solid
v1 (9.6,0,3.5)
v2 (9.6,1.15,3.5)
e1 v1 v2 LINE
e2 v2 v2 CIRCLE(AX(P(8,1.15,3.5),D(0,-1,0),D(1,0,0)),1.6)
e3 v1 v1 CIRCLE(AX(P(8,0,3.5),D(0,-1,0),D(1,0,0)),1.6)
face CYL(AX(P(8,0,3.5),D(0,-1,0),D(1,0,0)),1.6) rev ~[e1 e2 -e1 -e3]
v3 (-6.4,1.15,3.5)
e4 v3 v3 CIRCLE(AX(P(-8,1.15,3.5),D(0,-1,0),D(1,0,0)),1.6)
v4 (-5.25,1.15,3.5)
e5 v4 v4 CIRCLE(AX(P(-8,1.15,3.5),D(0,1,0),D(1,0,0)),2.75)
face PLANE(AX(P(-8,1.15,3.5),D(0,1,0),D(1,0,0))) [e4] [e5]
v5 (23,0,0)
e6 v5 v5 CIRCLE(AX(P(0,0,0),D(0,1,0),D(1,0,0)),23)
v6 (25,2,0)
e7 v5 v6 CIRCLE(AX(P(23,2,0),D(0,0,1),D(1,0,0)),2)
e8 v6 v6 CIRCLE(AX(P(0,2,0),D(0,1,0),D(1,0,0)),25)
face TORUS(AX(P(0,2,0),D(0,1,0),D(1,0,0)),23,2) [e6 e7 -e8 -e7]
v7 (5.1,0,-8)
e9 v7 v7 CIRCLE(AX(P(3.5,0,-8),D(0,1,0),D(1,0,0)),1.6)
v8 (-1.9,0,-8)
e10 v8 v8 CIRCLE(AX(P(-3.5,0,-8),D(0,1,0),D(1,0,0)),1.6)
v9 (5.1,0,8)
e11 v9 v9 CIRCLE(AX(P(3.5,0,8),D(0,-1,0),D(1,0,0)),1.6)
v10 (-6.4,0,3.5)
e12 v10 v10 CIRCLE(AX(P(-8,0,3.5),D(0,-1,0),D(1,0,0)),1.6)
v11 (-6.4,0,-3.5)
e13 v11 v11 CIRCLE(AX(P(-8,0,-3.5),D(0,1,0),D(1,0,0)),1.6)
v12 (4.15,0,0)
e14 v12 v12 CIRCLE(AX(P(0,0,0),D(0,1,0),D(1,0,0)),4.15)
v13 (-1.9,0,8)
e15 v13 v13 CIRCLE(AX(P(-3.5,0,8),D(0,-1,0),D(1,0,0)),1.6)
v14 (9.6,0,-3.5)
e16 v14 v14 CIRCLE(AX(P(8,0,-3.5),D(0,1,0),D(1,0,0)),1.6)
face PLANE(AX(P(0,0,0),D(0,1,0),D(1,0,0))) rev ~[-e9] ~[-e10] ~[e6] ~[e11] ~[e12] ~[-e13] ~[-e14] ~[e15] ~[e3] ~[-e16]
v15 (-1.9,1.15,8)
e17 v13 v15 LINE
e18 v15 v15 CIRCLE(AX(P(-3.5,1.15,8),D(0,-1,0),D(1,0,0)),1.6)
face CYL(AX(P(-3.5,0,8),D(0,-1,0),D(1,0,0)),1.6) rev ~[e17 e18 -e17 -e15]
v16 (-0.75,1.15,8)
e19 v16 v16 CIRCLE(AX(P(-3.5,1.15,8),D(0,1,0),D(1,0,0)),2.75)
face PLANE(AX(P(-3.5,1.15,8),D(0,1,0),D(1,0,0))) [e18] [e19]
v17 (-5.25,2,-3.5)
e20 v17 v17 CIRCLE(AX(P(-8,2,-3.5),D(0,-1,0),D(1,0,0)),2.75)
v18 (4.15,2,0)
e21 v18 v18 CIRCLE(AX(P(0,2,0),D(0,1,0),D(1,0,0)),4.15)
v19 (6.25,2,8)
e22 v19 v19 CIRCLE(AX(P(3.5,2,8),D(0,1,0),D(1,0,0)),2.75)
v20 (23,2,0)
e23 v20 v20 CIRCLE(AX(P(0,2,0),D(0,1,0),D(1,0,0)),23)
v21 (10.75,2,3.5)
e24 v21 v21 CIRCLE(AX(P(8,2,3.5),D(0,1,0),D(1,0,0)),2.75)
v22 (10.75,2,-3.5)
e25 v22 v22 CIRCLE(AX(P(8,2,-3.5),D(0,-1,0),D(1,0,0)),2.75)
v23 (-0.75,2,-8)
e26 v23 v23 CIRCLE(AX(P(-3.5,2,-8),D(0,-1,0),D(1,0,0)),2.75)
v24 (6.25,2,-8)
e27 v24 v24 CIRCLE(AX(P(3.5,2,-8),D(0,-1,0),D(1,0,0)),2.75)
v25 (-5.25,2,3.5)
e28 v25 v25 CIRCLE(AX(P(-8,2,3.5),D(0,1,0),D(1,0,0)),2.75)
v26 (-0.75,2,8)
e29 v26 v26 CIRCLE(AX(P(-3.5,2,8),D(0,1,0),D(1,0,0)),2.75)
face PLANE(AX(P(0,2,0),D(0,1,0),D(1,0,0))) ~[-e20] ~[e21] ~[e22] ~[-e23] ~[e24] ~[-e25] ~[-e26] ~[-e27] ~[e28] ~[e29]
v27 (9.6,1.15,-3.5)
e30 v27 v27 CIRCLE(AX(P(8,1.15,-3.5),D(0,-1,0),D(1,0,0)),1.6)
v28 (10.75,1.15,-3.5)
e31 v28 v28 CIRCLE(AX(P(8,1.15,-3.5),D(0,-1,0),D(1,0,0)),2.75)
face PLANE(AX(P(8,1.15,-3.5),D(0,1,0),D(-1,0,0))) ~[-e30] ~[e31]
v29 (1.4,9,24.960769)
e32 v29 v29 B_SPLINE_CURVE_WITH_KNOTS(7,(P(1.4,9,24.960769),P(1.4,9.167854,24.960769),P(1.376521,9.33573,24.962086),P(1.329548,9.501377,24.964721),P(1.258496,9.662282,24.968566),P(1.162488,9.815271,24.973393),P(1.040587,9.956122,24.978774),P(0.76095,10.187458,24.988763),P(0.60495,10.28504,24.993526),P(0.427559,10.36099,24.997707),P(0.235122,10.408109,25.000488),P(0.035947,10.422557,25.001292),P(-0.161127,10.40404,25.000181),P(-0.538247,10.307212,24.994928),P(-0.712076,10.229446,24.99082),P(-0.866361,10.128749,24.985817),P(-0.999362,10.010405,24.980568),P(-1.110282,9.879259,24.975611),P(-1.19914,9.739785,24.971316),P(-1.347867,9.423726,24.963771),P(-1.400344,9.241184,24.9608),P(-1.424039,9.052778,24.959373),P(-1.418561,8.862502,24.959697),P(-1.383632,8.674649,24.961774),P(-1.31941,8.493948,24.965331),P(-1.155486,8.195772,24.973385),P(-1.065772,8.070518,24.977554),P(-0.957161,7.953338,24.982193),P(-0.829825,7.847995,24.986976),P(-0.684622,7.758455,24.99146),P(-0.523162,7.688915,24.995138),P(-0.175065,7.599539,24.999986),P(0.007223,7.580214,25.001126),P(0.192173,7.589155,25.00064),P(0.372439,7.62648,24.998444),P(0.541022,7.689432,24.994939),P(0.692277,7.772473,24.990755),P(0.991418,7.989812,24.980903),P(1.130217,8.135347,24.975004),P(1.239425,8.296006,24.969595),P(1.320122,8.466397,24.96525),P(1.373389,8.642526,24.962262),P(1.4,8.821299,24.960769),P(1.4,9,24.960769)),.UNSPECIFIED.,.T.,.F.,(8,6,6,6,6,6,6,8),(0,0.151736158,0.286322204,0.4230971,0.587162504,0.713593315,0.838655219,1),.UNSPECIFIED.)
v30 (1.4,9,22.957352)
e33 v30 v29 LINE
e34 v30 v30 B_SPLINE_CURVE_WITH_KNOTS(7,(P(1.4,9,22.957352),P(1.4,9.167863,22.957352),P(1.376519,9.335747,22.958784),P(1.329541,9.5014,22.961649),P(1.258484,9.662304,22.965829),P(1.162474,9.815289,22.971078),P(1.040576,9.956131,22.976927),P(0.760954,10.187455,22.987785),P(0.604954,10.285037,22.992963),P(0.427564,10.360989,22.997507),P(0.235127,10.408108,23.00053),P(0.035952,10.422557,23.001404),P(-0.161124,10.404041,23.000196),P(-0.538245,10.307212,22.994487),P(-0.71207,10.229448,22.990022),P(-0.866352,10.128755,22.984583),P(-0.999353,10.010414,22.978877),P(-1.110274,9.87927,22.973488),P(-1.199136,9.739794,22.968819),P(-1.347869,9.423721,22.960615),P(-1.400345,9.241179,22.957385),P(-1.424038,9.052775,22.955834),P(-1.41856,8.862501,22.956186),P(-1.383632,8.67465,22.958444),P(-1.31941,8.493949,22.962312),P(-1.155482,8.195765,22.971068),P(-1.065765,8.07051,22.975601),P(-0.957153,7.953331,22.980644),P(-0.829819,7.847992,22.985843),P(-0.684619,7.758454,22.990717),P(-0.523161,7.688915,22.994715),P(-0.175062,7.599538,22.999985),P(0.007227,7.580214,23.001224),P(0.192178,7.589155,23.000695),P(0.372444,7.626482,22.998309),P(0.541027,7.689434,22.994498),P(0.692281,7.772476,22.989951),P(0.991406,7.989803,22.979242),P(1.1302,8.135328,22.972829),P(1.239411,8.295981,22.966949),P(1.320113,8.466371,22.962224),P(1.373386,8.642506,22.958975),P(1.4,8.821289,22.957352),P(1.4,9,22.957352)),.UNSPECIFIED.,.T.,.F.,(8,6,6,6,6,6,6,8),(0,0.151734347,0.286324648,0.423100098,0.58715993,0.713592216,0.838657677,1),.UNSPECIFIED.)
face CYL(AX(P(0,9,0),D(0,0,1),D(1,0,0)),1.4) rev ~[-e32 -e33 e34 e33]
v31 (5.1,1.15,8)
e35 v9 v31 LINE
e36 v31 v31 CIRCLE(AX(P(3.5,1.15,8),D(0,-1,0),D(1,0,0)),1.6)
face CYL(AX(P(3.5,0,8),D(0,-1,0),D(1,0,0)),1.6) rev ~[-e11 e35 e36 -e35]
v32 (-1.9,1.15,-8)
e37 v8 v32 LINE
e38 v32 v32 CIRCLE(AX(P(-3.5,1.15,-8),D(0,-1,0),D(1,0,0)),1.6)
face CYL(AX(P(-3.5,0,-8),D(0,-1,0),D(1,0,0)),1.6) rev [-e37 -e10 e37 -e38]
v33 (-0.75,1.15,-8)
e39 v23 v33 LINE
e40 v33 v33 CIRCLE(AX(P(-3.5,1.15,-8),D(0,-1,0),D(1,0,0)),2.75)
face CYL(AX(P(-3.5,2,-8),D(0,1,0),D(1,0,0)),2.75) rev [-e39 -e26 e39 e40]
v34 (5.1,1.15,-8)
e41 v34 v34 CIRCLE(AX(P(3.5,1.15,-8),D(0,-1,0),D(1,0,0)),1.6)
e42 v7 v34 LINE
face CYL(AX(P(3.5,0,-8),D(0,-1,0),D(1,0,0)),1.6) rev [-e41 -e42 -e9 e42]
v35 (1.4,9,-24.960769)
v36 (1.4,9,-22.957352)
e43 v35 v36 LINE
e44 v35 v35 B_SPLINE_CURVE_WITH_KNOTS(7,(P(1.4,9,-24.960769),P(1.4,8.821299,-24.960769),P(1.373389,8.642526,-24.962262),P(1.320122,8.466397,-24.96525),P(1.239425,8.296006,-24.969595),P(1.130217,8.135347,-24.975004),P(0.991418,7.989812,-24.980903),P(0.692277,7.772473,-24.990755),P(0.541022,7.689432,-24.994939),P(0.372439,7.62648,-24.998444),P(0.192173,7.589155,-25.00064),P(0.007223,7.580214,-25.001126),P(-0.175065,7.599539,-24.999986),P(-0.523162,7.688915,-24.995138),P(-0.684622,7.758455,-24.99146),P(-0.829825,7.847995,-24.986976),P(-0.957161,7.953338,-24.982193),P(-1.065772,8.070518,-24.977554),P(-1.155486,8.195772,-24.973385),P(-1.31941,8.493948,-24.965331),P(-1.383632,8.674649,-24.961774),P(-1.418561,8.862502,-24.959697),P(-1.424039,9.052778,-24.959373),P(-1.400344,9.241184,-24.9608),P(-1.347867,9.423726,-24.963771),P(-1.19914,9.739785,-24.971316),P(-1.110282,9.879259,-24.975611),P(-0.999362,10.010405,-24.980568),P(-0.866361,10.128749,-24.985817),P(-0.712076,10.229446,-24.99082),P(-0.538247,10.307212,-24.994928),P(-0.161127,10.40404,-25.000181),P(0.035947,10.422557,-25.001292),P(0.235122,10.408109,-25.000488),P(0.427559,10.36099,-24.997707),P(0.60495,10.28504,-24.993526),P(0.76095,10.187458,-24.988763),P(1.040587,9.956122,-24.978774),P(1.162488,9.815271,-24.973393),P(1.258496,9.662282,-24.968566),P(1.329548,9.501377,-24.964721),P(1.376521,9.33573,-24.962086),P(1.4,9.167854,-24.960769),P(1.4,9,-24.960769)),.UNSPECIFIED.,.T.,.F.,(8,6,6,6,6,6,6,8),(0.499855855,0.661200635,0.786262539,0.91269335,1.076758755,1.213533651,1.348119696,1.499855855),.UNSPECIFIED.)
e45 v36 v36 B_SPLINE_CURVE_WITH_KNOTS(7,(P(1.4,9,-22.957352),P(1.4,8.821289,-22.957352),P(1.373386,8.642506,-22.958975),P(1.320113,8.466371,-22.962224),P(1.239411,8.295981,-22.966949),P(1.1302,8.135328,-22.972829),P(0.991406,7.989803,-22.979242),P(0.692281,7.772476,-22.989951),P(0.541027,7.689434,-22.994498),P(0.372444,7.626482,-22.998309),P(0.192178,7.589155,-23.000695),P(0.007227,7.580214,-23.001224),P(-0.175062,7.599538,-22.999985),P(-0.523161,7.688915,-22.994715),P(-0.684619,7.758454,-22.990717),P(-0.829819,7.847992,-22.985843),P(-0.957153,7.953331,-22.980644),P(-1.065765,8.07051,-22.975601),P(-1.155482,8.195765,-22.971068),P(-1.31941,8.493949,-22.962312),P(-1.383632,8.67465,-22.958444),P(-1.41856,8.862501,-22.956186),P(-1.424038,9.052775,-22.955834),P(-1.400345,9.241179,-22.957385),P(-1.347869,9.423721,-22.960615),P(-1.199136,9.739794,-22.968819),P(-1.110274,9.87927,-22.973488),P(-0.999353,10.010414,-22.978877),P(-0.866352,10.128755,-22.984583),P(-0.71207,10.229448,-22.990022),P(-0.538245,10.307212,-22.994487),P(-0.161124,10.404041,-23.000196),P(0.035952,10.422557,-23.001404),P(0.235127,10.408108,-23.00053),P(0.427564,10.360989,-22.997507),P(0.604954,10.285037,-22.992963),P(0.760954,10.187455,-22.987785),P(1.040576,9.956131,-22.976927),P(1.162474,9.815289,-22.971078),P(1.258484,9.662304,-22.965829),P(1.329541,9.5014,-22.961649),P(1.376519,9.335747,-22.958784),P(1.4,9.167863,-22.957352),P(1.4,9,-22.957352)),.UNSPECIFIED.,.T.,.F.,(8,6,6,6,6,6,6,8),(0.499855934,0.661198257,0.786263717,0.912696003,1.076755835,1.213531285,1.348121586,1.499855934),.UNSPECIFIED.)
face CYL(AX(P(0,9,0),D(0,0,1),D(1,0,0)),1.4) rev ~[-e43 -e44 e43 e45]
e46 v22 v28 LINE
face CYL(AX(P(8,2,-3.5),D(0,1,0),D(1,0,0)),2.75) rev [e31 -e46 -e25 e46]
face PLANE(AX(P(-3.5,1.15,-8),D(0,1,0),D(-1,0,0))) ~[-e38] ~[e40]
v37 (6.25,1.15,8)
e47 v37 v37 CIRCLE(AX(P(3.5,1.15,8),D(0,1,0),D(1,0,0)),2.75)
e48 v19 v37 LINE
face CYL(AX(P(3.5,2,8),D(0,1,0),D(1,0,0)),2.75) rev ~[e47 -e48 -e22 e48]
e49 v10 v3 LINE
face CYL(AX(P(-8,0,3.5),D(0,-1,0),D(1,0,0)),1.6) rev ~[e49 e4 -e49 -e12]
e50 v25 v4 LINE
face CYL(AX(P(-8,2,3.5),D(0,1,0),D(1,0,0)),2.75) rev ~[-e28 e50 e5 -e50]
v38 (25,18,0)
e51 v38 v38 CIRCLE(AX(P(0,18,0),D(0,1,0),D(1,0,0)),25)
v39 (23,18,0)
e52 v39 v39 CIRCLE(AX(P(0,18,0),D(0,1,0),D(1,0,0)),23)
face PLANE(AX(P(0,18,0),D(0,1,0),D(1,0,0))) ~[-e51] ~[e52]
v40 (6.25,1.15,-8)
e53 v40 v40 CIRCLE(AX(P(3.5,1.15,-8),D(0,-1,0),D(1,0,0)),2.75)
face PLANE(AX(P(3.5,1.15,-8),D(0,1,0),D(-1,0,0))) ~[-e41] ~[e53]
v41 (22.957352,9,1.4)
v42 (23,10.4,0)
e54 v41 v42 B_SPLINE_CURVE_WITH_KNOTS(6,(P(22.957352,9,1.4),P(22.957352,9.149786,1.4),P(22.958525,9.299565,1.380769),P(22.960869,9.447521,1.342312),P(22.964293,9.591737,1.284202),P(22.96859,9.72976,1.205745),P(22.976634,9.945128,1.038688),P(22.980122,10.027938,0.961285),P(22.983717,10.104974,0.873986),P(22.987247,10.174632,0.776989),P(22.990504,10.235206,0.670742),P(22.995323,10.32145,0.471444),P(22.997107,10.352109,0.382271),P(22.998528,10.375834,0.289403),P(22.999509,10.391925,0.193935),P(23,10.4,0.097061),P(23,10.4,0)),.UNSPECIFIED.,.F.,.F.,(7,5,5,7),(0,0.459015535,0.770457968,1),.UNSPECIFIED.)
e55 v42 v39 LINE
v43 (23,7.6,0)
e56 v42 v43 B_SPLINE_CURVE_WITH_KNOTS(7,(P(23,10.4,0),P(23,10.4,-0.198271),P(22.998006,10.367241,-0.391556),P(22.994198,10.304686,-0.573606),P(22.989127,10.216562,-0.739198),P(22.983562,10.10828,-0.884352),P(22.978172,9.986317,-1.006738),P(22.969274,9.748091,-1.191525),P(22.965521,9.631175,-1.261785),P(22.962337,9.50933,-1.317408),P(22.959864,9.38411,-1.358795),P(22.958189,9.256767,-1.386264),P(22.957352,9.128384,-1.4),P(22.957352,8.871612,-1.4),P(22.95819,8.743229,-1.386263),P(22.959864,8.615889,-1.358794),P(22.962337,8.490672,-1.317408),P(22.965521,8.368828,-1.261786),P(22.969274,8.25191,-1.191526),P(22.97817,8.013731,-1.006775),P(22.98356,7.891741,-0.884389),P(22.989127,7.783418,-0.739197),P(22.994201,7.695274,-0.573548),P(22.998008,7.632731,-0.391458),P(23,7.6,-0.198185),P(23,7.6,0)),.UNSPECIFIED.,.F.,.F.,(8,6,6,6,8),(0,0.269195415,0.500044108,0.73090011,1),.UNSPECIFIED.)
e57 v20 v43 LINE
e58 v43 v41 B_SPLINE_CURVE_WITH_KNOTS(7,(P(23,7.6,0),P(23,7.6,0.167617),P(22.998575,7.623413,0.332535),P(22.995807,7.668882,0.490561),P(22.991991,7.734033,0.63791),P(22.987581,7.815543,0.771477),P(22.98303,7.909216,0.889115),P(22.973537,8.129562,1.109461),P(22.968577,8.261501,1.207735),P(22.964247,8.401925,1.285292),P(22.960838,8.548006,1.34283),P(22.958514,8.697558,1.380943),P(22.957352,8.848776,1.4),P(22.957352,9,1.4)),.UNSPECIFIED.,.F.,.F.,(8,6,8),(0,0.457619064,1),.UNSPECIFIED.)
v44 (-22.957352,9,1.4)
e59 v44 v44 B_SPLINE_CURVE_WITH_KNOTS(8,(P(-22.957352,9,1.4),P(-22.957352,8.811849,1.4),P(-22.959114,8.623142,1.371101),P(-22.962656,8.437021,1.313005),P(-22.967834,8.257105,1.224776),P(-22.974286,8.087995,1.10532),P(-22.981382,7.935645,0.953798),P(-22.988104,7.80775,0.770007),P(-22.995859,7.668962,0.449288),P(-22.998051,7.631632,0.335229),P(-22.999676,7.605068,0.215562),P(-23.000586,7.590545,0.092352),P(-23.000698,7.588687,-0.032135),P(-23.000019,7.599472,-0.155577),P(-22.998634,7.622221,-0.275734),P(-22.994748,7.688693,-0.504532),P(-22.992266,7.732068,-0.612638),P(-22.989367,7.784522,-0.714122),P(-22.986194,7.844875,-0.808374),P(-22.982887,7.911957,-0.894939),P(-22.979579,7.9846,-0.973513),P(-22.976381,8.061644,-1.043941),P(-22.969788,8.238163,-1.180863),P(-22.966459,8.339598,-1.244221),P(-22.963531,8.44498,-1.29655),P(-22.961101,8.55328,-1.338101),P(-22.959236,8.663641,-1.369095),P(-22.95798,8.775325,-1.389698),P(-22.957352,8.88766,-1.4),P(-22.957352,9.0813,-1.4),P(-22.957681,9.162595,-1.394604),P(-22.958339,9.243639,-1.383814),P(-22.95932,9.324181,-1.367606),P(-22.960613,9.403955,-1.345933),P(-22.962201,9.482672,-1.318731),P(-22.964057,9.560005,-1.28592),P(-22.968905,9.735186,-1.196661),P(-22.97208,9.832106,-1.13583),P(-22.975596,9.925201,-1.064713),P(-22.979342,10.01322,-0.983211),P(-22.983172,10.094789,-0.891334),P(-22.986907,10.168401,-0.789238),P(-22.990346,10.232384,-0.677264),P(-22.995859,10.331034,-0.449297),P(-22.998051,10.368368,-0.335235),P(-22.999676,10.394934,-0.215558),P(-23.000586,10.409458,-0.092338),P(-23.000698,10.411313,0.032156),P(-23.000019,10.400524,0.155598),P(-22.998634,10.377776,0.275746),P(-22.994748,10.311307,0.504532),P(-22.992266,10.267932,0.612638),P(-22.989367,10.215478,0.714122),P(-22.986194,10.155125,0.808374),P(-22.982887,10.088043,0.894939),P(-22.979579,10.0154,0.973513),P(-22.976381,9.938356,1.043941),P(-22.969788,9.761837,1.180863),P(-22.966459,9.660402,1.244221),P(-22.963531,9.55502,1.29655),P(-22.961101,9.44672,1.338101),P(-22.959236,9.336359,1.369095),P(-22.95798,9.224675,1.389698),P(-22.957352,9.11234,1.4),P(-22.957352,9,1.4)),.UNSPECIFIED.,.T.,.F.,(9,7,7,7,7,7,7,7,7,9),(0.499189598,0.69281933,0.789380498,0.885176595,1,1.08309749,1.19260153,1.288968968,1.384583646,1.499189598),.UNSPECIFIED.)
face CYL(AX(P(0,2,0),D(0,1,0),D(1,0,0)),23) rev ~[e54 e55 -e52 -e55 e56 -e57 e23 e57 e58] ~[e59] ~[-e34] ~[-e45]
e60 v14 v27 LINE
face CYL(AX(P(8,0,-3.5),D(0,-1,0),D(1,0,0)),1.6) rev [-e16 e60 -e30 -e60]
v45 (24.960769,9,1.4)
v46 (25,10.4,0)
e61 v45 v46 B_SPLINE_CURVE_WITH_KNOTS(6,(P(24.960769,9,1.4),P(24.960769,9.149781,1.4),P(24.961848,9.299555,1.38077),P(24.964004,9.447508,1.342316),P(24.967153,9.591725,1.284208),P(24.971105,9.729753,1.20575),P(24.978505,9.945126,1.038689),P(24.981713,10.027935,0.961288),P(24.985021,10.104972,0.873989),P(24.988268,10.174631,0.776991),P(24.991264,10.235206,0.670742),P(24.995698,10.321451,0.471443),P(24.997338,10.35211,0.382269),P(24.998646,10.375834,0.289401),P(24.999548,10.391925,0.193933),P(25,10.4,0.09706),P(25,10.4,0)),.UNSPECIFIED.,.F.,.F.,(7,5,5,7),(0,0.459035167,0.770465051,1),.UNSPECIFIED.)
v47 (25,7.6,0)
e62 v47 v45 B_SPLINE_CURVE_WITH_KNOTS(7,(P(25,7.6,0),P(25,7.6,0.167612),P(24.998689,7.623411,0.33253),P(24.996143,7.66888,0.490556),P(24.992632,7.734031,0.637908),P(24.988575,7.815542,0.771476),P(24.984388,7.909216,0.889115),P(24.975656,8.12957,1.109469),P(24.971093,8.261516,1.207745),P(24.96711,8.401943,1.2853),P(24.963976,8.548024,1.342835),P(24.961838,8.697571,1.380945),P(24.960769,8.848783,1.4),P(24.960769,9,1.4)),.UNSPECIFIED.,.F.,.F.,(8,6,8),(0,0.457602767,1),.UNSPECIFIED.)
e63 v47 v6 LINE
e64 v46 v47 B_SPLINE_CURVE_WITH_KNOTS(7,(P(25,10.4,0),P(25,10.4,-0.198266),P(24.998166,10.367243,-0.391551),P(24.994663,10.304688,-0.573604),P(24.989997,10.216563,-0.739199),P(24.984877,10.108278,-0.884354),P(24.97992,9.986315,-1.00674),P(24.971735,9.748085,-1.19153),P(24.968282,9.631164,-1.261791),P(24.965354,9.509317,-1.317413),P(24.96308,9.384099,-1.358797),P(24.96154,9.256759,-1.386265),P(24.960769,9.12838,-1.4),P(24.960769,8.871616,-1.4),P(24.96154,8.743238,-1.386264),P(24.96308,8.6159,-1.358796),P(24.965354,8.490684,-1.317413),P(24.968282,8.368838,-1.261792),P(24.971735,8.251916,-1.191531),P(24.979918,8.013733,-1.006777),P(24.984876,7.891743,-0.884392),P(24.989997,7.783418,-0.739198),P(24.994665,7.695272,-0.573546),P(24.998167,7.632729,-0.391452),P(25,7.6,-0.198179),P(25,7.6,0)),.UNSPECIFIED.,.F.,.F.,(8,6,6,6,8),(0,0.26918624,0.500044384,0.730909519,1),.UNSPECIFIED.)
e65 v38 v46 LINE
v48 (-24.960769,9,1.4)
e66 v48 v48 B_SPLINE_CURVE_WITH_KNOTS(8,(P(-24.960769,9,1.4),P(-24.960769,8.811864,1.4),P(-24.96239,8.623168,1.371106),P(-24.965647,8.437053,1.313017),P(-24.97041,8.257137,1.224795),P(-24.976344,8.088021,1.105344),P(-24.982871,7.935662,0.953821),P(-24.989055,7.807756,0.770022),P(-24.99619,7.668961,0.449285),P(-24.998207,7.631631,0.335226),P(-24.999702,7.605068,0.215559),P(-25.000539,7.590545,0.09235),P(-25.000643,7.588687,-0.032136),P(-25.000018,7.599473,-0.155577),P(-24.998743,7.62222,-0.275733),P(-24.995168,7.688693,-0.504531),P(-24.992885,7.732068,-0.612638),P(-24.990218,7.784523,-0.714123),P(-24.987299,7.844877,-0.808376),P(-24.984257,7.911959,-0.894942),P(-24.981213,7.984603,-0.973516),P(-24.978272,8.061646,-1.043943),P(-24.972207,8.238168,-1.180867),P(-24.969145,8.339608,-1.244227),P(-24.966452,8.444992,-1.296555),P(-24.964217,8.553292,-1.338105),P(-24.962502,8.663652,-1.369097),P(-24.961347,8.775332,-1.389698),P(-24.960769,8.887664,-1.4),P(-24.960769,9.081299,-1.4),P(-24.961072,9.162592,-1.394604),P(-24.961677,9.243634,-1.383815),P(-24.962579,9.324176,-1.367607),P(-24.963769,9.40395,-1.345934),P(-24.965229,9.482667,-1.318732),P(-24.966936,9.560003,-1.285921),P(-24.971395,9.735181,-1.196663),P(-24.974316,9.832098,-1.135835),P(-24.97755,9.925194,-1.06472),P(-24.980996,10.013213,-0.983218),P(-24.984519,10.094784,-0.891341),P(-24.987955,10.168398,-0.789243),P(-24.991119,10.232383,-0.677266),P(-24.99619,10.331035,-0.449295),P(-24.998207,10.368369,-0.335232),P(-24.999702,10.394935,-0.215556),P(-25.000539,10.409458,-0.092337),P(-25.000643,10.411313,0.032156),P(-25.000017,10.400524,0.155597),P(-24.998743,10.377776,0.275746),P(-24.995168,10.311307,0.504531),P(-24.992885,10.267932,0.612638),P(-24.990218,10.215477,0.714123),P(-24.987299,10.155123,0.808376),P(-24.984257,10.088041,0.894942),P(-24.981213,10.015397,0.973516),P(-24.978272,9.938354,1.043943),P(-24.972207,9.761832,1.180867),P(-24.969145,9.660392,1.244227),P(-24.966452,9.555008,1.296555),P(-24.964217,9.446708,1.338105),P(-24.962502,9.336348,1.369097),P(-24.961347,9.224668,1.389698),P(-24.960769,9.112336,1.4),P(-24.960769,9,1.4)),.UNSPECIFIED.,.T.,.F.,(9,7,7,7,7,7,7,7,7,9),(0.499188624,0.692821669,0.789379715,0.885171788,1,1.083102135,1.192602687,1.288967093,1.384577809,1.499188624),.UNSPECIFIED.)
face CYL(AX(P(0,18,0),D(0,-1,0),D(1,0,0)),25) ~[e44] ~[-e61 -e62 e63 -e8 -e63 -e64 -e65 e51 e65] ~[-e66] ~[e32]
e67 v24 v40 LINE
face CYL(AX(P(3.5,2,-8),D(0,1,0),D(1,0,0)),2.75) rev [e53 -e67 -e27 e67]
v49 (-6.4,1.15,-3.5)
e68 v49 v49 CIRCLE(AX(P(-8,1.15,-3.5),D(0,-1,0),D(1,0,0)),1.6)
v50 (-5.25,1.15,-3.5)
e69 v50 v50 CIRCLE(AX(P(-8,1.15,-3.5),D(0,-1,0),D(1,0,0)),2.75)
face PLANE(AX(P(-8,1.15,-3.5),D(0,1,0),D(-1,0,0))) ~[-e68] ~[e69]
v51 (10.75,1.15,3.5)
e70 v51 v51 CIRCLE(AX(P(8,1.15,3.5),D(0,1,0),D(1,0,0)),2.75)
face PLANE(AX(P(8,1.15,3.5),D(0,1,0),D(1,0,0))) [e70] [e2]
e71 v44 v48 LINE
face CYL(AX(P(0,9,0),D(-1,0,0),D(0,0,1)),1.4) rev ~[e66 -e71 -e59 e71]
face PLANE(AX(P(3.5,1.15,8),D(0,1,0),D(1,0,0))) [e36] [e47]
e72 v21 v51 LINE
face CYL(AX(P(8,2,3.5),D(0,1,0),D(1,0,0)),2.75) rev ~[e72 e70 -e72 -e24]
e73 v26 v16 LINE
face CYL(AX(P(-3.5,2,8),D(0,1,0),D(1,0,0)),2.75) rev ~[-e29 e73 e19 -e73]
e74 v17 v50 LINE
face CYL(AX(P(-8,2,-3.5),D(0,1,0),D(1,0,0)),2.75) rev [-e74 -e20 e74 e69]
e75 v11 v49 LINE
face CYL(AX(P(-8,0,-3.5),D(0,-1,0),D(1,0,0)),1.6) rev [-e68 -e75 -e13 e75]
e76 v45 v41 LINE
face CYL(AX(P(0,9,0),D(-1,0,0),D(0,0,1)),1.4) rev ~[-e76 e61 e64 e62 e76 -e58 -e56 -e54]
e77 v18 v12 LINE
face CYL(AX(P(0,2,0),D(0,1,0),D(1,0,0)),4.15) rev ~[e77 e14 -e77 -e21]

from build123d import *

# Parameters (mm, degrees)
SKETCH2_R          = 4.15
CUT_EXTRUDE1_DEPTH = 10
SKETCH3_R          = 1.4
CUT_EXTRUDE3_DEPTH = 30
CIRPATTERN1_COUNT  = 4
FILLET1_R          = 2
SKETCH4_R          = 1.6
CUT_EXTRUDE4_DEPTH = 19.0000001
SKETCH6_R          = 2.75
CUT_EXTRUDE5_DEPTH = 0.85


with BuildPart() as part:
    # Sketch1 → Revolve1 (revolve)
    with BuildSketch(Plane.XY):
        Polygon((0, 0), (0, 2), (23, 2), (23, 18), (25, 18), (25, 0), align=None)
    revolve(axis=Axis((0, 0, 0), (0, 1, 0)))

    # Sketch2 → Cut-Extrude1 (cut)
    with BuildSketch(Plane(origin=(0, 2, 0), x_dir=(1, 0, 0), z_dir=(0, 1, 0))):
        Circle(SKETCH2_R)
    extrude(amount=-CUT_EXTRUDE1_DEPTH, mode=Mode.SUBTRACT)

    # Sketch3 → Cut-Extrude3 (cut, symmetric)
    with BuildSketch(Plane.XY):
        with Locations((0, 9)):
            Circle(SKETCH3_R)
    cut_extrude3 = extrude(amount=CUT_EXTRUDE3_DEPTH, both=True, mode=Mode.SUBTRACT)

    # CirPattern1: Cut-Extrude3 ×4 about axis
    cirpattern1_axis = Axis((0, 0, 0), (0, -1, 0))
    for i in range(1, CIRPATTERN1_COUNT):
        add(cut_extrude3.rotate(cirpattern1_axis, i * 360 / CIRPATTERN1_COUNT), mode=Mode.SUBTRACT)

    # Fillet1
    fillet1_edges = [part.edges().sort_by_distance(p)[0] for p in [
        (-25, 0, 0),
    ]]
    fillet(fillet1_edges, radius=FILLET1_R)

    # Sketch4 → Cut-Extrude4 (cut, through all)
    with BuildSketch(Plane.XZ):
        with Locations((-3.5, 8)):
            Circle(SKETCH4_R)
        with Locations((3.5, 8)):
            Circle(SKETCH4_R)
        with Locations((-8, 3.5)):
            Circle(SKETCH4_R)
        with Locations((8, 3.5)):
            Circle(SKETCH4_R)
    cut_extrude4 = extrude(amount=-CUT_EXTRUDE4_DEPTH, mode=Mode.SUBTRACT)

    # Sketch6 → Cut-Extrude5 (cut)
    with BuildSketch(Plane(origin=(0, 2, 0), x_dir=(1, 0, 0), z_dir=(0, 1, 0))):
        with Locations((-8, -3.5)):
            Circle(SKETCH6_R)
        with Locations((-3.5, -8)):
            Circle(SKETCH6_R)
        with Locations((3.5, -8)):
            Circle(SKETCH6_R)
        with Locations((8, -3.5)):
            Circle(SKETCH6_R)
    cut_extrude5 = extrude(amount=-CUT_EXTRUDE5_DEPTH, mode=Mode.SUBTRACT)

    # Mirror1: Cut-Extrude4, Cut-Extrude5 across plane
    add(cut_extrude4.mirror(Plane.XY), mode=Mode.SUBTRACT)
    add(cut_extrude5.mirror(Plane.XY), mode=Mode.SUBTRACT)


solid = part.part
